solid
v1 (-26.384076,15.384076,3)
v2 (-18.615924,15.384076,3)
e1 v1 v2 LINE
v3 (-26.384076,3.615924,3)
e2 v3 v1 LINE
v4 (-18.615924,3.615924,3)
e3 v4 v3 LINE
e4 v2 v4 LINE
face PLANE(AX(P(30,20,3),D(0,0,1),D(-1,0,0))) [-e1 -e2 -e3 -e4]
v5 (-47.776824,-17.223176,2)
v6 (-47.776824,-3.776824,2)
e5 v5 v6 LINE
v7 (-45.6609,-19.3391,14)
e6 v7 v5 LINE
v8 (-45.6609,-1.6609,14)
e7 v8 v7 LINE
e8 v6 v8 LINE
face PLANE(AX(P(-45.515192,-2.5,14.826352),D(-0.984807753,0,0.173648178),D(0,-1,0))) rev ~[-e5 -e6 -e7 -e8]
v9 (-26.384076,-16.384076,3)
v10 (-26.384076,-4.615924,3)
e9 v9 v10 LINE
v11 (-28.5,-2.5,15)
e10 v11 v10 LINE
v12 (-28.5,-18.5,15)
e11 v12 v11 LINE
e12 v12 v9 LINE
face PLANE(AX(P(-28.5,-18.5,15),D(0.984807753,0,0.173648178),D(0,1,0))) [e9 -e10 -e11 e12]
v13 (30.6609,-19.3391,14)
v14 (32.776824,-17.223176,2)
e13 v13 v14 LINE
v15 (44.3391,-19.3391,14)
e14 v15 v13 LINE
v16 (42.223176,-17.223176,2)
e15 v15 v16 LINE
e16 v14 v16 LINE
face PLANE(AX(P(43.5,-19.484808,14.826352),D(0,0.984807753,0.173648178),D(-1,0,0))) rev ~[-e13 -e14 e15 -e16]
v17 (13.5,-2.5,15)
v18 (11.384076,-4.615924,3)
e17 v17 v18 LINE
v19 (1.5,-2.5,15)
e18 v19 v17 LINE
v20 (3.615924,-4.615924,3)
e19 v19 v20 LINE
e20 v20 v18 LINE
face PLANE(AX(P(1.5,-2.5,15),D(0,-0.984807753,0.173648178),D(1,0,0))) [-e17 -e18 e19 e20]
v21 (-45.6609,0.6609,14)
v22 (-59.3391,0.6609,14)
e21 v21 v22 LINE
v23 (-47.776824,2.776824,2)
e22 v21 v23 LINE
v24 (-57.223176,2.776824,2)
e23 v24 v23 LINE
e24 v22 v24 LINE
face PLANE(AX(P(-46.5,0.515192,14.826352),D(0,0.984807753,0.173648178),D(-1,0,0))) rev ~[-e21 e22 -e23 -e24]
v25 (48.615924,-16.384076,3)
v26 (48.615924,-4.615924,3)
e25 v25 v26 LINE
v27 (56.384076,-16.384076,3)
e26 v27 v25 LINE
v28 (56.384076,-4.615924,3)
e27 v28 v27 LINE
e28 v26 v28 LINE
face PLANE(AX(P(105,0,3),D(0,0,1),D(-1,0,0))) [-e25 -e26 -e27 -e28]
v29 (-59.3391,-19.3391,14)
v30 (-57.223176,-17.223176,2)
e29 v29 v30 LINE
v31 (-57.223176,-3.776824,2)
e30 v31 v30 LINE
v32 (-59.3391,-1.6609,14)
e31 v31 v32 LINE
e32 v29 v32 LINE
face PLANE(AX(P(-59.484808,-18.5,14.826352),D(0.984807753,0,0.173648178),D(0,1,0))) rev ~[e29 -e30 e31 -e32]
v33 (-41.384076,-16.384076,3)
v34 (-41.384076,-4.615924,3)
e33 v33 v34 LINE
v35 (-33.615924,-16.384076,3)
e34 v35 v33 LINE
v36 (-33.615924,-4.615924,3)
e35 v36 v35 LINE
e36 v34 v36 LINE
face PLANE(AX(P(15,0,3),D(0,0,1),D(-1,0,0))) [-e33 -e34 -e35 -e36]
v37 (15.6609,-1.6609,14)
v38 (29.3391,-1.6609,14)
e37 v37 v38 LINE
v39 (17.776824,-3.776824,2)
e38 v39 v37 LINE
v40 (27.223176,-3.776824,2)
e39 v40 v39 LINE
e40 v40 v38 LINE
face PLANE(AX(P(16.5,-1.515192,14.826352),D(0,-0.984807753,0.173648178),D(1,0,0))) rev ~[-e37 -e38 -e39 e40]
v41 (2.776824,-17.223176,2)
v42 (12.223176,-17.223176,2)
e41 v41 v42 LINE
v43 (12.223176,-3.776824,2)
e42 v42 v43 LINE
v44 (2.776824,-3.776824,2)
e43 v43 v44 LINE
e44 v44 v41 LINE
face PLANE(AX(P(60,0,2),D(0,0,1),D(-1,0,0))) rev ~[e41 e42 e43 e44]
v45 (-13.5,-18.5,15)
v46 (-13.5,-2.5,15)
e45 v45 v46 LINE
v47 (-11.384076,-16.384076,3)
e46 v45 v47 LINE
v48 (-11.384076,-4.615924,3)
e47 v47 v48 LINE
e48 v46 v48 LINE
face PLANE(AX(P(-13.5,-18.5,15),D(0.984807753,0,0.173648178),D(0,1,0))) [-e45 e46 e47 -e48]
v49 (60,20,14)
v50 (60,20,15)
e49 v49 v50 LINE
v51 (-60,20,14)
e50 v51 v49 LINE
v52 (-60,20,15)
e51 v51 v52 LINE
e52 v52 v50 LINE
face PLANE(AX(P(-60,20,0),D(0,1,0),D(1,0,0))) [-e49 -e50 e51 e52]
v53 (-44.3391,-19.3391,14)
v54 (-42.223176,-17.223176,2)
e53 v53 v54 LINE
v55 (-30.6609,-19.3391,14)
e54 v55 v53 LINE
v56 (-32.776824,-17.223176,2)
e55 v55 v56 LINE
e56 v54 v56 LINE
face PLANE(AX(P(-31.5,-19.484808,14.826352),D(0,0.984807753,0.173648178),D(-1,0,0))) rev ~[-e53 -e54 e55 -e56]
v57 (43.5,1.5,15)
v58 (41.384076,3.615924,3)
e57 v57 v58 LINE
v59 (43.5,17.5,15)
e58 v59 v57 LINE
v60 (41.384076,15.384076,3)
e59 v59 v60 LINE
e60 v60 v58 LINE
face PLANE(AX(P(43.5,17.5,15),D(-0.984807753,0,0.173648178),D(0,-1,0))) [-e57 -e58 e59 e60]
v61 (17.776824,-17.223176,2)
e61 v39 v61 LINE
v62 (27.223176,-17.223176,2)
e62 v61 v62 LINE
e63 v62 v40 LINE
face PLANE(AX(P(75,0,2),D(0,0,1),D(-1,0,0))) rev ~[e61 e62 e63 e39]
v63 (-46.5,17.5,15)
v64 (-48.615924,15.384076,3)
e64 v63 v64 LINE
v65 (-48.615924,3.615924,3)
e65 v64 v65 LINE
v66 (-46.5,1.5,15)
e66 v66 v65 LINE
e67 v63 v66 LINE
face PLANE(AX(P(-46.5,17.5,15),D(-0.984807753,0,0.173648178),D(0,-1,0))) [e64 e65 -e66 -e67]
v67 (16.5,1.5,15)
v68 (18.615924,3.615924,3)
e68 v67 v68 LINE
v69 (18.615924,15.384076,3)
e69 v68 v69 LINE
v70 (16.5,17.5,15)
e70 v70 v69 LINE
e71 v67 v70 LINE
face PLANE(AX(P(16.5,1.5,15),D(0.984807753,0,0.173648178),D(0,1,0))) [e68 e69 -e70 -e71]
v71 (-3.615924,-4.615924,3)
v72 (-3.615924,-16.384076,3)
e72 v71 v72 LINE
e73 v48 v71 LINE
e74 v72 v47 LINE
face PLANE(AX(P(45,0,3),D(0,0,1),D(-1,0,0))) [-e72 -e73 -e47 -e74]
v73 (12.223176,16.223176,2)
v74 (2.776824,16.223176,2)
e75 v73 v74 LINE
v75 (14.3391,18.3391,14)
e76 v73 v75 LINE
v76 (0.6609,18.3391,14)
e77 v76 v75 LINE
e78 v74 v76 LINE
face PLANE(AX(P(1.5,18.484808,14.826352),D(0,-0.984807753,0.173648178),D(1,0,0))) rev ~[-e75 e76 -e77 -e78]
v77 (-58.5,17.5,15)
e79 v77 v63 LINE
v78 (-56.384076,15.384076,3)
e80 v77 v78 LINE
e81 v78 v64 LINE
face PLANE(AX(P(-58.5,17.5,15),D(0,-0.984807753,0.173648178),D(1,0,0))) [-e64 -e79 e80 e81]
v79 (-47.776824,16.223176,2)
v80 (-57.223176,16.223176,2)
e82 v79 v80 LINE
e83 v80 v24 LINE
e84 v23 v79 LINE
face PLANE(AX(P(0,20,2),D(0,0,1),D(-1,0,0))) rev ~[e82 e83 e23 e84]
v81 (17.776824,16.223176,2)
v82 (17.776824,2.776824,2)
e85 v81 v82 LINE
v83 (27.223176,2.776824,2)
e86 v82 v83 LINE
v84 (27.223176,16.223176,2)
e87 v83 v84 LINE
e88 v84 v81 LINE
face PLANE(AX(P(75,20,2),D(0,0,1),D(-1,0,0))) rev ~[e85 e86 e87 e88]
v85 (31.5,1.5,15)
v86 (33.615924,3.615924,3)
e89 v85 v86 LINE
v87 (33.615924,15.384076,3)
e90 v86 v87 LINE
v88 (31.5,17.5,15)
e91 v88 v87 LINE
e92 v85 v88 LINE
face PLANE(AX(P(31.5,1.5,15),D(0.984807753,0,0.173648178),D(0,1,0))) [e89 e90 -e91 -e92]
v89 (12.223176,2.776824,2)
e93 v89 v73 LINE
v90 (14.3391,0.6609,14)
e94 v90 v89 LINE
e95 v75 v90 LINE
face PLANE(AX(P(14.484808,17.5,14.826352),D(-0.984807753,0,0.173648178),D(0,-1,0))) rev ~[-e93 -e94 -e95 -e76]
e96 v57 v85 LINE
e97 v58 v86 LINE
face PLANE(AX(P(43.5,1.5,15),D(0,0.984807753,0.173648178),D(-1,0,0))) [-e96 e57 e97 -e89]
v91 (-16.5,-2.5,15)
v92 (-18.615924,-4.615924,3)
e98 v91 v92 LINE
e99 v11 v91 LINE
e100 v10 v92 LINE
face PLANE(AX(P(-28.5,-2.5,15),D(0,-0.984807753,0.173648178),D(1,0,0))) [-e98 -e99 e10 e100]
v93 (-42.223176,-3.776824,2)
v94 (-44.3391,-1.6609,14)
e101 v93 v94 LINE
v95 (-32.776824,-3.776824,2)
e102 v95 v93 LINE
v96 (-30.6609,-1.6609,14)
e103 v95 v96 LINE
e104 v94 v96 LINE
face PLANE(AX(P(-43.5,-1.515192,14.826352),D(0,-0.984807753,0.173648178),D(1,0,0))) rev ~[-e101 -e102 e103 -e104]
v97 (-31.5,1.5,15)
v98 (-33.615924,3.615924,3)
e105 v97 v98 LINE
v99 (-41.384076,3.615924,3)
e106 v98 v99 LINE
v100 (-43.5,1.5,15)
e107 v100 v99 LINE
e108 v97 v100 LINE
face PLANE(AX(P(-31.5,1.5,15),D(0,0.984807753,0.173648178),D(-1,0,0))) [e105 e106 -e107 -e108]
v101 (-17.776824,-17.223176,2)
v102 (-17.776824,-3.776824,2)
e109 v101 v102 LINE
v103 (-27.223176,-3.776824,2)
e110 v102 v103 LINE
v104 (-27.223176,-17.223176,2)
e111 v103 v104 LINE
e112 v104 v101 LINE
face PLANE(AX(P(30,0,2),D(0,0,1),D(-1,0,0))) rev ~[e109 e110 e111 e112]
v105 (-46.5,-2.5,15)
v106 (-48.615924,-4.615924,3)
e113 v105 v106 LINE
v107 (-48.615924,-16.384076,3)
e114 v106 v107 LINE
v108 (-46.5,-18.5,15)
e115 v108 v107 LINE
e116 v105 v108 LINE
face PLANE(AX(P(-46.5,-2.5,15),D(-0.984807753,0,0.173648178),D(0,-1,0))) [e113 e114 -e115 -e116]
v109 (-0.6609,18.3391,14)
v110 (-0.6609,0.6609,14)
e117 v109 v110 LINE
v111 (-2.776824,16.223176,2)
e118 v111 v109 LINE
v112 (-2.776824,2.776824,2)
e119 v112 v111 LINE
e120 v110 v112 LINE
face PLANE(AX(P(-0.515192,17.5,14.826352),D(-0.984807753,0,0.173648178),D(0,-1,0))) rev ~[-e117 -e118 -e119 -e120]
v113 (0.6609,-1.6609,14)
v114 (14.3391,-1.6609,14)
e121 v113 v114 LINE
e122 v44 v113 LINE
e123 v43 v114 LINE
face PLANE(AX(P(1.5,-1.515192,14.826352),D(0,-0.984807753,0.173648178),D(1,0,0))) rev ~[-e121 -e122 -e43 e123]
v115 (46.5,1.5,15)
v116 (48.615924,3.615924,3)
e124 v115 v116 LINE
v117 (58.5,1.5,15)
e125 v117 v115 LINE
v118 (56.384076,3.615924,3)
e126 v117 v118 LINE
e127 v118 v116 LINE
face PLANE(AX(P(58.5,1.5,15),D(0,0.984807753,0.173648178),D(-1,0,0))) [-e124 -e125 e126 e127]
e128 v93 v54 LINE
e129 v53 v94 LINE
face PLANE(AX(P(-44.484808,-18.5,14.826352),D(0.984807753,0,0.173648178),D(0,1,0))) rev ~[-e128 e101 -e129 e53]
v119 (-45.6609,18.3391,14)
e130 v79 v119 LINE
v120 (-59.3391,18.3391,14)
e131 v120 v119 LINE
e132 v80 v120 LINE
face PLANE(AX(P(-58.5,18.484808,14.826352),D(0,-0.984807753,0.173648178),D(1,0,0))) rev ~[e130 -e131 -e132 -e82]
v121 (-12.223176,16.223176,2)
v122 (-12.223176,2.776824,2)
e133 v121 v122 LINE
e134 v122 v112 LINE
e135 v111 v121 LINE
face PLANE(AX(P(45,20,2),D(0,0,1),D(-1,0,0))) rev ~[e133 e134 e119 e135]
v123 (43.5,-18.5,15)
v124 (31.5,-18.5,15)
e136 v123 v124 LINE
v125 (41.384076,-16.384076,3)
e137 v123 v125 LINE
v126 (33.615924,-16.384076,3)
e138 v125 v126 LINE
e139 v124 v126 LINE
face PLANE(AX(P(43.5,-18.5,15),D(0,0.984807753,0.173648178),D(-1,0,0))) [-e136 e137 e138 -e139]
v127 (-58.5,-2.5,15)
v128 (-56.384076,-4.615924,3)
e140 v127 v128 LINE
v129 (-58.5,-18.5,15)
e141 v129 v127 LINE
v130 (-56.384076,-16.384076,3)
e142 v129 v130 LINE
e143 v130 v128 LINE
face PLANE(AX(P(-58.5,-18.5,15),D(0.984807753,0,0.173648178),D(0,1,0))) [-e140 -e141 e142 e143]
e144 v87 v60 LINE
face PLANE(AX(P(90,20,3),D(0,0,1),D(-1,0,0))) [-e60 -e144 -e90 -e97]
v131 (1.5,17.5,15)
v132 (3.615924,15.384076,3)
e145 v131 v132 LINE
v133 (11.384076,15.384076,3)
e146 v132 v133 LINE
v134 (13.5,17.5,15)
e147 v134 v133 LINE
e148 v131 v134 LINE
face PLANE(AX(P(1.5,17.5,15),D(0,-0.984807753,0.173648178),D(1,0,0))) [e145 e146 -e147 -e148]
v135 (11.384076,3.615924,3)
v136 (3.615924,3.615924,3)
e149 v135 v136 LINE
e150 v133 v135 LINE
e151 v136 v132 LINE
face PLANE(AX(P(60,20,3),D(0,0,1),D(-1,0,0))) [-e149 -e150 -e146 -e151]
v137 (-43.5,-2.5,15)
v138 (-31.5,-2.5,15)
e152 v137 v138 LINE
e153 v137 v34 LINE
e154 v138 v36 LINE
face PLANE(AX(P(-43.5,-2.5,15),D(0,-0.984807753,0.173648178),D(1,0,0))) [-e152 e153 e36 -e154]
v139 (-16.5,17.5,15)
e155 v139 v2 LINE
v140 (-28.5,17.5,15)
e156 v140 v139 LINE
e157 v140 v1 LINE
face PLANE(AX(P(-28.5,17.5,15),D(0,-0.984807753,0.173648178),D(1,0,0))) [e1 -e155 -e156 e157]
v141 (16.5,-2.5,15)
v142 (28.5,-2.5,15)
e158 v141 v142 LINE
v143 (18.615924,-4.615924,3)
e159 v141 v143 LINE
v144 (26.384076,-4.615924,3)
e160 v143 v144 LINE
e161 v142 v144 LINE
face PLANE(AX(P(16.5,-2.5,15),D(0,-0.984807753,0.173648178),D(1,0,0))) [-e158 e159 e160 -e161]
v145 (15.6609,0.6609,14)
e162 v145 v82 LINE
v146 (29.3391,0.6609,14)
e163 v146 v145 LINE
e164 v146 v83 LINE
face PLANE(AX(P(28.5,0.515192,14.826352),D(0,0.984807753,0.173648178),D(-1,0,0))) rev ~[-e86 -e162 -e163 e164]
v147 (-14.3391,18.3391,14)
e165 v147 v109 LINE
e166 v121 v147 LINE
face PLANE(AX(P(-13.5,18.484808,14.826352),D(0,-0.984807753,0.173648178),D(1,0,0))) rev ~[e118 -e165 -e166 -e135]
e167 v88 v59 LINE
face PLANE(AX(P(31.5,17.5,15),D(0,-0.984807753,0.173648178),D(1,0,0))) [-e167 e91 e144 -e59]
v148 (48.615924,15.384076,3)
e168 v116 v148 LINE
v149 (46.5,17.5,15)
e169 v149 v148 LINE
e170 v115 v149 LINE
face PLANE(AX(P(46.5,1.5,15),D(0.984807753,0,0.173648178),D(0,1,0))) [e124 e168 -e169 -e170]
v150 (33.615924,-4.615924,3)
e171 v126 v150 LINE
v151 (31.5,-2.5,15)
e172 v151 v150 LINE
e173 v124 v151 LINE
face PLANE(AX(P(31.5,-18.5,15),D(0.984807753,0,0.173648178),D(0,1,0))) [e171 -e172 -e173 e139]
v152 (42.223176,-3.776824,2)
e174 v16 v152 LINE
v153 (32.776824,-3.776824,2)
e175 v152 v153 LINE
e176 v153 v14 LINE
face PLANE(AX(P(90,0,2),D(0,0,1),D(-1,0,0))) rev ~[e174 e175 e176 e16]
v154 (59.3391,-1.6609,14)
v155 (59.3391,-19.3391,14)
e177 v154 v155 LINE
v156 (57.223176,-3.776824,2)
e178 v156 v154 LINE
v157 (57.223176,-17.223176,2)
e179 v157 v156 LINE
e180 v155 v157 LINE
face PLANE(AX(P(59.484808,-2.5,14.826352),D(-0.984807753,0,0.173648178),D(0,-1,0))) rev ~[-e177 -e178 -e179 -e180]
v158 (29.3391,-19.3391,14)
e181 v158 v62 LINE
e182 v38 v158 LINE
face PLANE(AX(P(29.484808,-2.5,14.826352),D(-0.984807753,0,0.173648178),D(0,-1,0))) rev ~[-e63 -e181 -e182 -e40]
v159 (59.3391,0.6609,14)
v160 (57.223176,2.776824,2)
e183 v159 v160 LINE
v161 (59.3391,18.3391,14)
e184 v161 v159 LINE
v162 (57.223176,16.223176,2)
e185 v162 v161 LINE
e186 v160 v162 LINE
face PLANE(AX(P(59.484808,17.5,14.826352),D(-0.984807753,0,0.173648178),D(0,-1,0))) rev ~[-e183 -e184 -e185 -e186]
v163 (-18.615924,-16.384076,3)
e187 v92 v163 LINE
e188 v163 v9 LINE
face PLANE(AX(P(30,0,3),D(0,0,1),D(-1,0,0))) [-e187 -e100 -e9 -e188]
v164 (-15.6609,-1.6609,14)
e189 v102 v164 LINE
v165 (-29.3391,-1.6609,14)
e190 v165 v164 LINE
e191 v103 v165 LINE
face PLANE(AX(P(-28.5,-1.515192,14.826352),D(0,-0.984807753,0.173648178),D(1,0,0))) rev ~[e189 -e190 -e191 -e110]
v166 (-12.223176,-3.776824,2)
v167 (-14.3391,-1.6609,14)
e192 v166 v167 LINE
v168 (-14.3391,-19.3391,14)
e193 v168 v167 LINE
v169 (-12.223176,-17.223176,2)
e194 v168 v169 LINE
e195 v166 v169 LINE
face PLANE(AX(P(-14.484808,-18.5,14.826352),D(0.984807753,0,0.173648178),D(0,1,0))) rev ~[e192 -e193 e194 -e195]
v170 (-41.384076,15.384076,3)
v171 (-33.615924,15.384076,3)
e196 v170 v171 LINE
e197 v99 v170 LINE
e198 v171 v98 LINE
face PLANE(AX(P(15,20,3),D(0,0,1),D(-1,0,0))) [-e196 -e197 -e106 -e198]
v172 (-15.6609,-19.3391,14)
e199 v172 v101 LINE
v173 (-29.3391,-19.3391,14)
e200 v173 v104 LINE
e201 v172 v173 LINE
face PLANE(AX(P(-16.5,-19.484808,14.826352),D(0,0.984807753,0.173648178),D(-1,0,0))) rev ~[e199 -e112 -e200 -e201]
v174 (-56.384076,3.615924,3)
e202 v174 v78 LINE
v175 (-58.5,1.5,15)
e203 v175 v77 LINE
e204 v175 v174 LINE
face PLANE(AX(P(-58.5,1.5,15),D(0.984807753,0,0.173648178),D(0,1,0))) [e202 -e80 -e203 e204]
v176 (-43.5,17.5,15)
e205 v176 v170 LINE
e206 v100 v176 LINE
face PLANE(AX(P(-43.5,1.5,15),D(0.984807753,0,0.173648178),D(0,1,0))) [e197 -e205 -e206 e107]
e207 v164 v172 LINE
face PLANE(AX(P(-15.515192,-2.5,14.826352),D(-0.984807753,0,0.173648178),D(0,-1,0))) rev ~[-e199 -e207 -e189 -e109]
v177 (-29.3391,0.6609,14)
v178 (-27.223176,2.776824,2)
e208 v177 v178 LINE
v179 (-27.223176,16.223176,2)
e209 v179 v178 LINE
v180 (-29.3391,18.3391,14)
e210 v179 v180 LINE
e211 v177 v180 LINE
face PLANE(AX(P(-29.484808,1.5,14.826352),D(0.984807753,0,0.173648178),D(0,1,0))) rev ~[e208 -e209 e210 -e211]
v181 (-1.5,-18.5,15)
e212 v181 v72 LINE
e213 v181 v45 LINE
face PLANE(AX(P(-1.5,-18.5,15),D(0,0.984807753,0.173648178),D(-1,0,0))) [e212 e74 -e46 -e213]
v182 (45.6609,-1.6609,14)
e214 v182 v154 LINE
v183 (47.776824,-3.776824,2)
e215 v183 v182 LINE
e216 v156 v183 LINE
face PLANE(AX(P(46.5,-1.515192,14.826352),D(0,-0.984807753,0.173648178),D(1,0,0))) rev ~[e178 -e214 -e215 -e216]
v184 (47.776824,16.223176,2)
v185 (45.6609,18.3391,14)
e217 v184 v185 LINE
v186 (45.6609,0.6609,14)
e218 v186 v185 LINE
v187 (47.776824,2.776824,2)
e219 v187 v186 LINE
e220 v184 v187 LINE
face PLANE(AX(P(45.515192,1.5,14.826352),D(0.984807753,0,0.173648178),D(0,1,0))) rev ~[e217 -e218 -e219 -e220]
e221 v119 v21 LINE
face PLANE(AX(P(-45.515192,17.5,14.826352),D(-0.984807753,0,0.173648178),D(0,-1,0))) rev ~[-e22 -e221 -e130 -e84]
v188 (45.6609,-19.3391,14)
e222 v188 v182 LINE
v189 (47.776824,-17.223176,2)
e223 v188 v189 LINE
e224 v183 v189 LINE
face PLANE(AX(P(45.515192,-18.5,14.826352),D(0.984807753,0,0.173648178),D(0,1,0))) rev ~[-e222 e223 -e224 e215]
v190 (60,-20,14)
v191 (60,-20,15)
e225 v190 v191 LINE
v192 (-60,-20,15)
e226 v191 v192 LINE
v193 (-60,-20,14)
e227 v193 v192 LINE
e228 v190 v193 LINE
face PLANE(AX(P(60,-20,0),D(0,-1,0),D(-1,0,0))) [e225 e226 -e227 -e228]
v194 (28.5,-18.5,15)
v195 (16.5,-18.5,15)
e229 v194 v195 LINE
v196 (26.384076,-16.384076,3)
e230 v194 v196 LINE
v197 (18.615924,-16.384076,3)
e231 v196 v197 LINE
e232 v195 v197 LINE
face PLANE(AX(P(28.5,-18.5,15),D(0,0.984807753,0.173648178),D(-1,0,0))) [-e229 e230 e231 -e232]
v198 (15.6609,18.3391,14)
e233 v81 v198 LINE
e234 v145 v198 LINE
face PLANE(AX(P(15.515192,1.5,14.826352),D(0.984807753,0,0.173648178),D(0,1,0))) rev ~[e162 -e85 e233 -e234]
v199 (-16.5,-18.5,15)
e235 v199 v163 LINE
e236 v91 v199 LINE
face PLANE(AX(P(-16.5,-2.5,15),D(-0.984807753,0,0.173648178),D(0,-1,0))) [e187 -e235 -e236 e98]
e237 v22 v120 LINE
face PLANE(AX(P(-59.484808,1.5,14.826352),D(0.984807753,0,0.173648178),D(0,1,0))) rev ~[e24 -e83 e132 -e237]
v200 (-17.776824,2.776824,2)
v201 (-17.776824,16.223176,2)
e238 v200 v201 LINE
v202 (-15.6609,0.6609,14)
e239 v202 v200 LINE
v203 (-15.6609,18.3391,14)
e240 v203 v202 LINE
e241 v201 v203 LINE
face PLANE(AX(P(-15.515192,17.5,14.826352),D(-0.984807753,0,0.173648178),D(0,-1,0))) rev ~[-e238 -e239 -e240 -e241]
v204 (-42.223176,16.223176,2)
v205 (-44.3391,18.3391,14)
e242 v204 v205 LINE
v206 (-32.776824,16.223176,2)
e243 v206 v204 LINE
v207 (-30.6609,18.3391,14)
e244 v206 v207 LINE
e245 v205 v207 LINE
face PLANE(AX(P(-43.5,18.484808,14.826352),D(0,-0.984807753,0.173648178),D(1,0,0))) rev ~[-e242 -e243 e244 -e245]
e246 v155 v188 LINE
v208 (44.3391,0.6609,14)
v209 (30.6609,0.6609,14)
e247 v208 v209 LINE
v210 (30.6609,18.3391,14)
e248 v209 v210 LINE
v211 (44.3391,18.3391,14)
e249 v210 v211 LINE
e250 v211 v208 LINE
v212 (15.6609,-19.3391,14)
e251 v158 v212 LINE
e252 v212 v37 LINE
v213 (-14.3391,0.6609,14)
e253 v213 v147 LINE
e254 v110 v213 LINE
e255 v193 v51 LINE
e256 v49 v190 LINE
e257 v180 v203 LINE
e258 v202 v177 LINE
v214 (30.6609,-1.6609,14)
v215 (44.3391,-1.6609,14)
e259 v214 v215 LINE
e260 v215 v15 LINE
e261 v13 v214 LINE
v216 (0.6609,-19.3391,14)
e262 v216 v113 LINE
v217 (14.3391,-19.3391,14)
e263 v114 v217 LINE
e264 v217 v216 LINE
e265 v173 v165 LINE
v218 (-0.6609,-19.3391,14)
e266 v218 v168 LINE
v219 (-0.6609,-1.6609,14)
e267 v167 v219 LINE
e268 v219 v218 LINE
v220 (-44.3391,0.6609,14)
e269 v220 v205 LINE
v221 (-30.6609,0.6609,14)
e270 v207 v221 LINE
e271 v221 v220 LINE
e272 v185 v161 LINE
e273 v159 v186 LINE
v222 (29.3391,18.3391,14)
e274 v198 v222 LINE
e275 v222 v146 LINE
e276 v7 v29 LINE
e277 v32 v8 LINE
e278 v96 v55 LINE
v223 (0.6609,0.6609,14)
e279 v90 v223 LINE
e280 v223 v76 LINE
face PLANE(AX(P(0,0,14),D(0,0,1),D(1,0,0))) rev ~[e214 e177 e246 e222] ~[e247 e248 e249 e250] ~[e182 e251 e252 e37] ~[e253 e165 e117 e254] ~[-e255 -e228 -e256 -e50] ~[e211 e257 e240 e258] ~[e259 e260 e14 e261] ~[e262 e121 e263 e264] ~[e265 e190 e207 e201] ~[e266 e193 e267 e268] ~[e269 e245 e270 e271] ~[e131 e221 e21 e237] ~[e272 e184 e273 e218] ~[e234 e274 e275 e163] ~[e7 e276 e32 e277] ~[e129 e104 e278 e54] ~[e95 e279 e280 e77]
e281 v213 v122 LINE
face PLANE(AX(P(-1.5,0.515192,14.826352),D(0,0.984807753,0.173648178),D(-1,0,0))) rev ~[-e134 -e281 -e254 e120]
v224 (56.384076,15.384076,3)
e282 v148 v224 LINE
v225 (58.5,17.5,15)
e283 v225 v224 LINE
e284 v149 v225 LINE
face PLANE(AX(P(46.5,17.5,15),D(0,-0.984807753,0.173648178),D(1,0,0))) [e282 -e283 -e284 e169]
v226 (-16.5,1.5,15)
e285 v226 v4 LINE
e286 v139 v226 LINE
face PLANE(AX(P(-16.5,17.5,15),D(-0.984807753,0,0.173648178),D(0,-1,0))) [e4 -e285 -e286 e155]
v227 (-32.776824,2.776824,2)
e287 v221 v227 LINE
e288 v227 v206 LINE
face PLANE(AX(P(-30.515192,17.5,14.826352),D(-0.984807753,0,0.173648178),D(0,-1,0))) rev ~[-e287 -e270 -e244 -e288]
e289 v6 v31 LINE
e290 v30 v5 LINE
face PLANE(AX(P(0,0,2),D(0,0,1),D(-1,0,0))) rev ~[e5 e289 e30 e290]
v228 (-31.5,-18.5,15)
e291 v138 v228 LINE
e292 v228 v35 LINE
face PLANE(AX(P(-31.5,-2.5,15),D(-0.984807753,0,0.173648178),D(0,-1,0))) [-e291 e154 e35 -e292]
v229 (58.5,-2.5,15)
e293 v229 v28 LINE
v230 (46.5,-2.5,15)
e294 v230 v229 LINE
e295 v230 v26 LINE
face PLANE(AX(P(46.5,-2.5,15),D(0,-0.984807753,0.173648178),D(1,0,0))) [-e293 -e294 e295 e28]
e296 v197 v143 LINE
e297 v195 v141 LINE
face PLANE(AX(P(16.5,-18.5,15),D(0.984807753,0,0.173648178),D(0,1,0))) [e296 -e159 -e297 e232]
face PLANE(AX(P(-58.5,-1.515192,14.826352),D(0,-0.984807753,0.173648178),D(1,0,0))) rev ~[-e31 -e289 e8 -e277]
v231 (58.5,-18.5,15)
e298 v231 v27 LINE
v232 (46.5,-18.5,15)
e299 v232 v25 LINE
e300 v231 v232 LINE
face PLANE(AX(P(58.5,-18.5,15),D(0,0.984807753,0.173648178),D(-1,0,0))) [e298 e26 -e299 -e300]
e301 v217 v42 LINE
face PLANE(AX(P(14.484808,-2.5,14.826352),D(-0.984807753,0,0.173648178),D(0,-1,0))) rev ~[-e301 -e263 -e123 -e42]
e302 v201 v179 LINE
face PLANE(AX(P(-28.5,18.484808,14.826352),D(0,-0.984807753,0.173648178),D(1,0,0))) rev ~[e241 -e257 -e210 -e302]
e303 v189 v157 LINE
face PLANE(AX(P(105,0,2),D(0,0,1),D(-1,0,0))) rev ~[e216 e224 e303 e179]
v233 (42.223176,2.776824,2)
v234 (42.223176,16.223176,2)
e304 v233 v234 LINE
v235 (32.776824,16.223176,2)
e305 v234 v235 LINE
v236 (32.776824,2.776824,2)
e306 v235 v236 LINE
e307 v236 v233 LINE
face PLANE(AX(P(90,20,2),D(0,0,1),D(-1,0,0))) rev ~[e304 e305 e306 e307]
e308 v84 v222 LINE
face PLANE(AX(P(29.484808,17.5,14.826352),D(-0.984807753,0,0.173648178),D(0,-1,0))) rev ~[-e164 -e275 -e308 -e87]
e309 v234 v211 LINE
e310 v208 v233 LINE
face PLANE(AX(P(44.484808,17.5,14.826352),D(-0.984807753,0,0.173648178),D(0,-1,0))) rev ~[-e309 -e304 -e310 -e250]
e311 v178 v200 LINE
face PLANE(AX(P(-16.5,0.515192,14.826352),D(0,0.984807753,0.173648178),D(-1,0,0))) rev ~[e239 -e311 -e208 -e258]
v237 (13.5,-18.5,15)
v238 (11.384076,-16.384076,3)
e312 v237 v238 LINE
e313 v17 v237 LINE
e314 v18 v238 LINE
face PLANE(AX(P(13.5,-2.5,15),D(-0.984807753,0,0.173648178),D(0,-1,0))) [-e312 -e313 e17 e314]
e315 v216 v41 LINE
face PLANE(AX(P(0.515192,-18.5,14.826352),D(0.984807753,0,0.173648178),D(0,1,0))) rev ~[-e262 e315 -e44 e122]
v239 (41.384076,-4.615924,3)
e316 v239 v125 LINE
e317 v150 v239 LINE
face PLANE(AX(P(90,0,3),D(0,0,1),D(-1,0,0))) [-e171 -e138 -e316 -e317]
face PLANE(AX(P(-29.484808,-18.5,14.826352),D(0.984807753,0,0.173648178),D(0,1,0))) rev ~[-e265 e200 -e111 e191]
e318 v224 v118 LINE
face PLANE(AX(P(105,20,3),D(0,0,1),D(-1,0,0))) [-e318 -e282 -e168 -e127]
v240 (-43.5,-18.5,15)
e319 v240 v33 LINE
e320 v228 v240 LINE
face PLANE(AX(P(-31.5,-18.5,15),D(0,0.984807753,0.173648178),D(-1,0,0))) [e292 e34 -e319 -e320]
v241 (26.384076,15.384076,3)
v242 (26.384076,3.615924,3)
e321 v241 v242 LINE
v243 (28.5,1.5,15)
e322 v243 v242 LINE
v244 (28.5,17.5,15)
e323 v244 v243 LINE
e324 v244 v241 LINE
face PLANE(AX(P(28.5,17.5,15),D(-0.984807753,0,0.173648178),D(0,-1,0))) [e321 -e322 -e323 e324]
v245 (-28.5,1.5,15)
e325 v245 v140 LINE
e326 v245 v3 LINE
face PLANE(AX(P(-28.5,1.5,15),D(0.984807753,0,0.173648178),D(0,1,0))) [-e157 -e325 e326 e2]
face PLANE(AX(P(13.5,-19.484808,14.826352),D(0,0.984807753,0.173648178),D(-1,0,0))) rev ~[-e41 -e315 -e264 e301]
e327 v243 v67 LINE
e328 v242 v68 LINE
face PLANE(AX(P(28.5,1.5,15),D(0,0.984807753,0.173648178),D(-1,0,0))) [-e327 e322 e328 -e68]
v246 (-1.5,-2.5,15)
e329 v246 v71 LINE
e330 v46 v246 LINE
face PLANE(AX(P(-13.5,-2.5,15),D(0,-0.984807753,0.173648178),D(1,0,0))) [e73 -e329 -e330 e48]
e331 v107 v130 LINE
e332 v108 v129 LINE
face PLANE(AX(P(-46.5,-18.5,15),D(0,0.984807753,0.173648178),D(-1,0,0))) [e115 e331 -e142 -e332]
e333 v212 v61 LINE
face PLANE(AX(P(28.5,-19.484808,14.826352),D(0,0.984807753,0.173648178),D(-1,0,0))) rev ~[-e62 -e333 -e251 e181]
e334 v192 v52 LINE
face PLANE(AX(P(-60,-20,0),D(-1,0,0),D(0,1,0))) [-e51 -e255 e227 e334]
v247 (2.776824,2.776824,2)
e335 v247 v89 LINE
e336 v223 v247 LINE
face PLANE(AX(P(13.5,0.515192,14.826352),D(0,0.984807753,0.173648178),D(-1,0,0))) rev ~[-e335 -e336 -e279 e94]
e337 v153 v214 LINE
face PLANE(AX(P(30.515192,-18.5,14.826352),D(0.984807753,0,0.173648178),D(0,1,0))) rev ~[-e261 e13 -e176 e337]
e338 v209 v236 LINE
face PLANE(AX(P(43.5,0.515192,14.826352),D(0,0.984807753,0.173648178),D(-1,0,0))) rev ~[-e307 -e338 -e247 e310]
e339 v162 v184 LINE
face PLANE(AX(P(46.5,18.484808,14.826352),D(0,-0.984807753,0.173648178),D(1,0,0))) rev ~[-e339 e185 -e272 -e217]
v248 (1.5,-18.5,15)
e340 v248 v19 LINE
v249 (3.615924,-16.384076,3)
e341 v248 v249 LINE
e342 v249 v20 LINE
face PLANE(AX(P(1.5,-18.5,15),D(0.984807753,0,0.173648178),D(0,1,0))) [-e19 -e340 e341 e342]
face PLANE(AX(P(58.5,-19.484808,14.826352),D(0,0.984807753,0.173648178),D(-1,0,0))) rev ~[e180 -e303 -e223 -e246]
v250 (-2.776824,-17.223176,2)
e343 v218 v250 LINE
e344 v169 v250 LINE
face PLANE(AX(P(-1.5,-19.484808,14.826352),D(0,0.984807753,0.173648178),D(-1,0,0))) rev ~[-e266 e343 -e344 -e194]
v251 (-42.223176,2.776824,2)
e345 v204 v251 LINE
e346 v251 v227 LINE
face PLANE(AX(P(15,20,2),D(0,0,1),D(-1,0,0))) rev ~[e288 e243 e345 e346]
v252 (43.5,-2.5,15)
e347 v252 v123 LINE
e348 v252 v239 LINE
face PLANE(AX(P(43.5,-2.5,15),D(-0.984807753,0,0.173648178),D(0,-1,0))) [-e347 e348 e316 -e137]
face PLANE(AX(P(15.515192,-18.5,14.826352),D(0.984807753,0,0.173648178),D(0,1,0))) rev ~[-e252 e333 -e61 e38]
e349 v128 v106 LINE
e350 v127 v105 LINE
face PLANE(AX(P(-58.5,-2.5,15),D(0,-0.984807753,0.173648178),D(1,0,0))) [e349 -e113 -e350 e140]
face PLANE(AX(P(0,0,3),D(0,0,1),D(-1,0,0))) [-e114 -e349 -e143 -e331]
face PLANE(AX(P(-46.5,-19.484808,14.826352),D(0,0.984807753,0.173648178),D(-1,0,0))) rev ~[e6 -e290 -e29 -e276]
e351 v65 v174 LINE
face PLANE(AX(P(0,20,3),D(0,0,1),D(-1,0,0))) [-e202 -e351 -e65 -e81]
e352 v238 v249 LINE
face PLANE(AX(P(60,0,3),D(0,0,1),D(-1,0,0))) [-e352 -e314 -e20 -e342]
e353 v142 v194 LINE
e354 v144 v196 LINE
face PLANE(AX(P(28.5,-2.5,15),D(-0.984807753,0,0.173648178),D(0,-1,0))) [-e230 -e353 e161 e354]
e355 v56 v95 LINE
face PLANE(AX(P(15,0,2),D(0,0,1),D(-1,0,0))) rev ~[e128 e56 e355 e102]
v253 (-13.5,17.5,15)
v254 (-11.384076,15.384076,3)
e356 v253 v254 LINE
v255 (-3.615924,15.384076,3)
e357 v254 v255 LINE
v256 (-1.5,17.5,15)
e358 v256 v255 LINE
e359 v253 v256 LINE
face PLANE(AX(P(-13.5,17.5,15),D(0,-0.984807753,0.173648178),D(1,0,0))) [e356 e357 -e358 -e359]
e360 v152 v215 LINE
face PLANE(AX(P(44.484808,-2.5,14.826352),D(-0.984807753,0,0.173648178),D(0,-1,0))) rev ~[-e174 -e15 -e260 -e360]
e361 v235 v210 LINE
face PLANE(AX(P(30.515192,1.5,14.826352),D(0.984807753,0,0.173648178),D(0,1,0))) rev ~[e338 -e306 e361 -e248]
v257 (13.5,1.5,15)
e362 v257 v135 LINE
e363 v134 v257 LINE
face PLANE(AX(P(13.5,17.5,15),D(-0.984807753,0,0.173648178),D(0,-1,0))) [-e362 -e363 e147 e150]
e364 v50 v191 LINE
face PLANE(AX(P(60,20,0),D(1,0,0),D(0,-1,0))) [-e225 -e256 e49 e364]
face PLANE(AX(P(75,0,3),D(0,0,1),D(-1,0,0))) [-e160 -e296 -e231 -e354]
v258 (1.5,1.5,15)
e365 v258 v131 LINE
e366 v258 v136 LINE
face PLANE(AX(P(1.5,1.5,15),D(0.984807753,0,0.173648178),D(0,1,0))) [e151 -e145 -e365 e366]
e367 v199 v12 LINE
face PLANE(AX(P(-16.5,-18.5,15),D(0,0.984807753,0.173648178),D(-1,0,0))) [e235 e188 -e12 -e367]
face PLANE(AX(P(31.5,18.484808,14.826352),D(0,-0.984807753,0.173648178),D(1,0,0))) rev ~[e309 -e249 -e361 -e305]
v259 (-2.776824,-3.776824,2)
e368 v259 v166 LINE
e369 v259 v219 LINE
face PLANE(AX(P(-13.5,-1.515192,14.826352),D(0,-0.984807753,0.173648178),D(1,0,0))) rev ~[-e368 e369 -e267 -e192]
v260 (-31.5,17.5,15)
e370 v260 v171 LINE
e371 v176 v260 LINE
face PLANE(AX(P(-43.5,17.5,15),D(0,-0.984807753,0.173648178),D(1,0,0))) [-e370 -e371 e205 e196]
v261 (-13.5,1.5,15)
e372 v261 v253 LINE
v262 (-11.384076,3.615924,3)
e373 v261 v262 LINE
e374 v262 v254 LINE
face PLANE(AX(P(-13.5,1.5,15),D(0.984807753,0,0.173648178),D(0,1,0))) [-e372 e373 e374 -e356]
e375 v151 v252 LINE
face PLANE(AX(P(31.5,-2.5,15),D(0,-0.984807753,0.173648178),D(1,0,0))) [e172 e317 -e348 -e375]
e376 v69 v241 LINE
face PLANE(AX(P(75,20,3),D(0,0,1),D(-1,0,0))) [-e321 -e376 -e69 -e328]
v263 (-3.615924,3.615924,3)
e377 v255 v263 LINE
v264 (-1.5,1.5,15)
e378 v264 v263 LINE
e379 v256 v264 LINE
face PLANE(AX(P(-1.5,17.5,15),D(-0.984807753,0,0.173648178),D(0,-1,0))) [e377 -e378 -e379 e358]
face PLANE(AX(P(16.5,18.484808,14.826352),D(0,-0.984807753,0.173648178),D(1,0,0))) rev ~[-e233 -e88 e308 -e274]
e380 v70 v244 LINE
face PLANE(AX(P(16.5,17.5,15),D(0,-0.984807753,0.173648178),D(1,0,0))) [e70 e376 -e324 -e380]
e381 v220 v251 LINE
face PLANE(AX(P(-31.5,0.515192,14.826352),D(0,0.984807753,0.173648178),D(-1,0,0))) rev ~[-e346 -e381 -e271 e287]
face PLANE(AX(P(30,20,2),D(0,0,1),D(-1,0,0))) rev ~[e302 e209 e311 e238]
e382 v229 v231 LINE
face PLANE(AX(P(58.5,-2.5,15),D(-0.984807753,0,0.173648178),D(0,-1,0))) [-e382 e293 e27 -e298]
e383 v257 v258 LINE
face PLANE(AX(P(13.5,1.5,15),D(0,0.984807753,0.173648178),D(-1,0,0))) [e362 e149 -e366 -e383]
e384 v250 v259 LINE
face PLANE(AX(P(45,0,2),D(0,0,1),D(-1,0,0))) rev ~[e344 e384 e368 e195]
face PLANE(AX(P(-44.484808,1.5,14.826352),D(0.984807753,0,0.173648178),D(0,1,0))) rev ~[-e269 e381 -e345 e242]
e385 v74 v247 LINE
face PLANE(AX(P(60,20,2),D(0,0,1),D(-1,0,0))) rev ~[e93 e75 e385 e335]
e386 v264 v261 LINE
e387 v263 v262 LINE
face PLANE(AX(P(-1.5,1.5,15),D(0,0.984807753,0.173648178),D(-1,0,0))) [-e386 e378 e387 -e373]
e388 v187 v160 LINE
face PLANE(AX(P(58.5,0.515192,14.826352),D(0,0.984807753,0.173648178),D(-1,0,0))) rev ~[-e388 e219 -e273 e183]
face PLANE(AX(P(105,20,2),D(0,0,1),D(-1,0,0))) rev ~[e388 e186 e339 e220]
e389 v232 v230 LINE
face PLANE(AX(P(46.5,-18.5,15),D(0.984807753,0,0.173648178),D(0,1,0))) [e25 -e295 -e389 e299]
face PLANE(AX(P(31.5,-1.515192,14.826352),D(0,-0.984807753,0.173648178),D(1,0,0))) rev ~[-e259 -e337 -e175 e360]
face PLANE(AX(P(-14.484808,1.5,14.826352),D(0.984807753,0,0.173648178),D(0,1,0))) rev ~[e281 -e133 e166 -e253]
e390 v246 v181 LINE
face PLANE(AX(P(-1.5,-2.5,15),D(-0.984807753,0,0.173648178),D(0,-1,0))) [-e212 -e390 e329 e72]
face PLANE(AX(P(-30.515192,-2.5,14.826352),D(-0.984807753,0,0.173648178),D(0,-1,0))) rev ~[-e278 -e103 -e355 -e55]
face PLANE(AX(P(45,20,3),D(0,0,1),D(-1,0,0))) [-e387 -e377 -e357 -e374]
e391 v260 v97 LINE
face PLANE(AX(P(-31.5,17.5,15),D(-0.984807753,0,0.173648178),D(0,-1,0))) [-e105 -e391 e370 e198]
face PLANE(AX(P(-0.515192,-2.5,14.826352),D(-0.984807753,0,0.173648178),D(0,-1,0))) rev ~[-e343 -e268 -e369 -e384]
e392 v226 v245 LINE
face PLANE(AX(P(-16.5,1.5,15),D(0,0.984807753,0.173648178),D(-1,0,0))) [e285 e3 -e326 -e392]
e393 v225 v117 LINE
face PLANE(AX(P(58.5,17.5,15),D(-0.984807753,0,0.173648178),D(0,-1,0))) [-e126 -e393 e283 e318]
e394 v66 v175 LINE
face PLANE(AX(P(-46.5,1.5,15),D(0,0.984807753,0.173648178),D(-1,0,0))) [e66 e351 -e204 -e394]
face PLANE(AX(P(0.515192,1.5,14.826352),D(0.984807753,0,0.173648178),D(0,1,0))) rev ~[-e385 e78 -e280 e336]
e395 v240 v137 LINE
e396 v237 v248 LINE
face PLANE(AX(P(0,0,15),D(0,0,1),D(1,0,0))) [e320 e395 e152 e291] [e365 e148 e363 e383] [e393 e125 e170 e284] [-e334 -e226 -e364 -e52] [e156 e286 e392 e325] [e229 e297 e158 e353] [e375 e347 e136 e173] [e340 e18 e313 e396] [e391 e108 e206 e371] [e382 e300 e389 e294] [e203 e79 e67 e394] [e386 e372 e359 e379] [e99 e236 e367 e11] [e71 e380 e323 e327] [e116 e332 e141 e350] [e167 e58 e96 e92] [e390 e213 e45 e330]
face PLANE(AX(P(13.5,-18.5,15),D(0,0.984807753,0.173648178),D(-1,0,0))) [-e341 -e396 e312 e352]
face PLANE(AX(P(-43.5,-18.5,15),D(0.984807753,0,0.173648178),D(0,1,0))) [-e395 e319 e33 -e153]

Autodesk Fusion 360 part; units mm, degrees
sketch "Sketch1" plane through (0, 0, 0) normal (0, 0, 1) x (1, 0, 0)
  line L0 (-60, 20) -> (60, 20)
  line L1 (60, 20) -> (60, -20)
  line L2 (60, -20) -> (-60, -20)
  line L3 (-60, -20) -> (-60, 20)
  line L4 (-60, 20) -> (60, -20) construction
  line L5 (60, 20) -> (-60, -20) construction
  dimension "d1" = 120
  dimension "d2" = 40
extrude "Extrude1" add sketch "Sketch1" along normal blind 15
sketch "Sketch3" plane through (0, 0, 0) normal (0, 0, 1) x (1, 0, 0)
sketch "Sketch4" plane through (0, 0, 15) normal (0, 0, 1) x (-1, 0, 0)
  line L0 (60, 20) -> (-60, 20)
  line L1 (-60, 20) -> (-60, -20)
  line L2 (-60, -20) -> (60, -20)
  line L3 (60, -20) -> (60, 20)
  line L4 (46.5, 18.5) -> (58.5, 18.5)
  line L5 (58.5, 18.5) -> (58.5, 2.5)
  line L6 (58.5, 2.5) -> (46.5, 2.5)
  line L7 (46.5, 2.5) -> (46.5, 18.5)
  line L8 (46.5, 18.5) -> (58.5, 2.5) construction
  line L9 (58.5, 18.5) -> (46.5, 2.5) construction
  point P0 (52.5, 10.5)
  dimension "d5" = 16
  dimension "d6" = 12
  dimension "d7" = 1.5
  dimension "d8" = 1.5
extrude "Extrude2" cut sketch "Sketch4" against normal blind 12 draft -10 contours L4 L5 L6 L7
pattern_linear "R-Pattern1" count 8 spacing 15 along (1, 0, 0) of "Extrude2"
pattern_linear "R-Pattern2" count 2 spacing 20 along (0, 1, 0) of "R-Pattern1"
pattern_linear "R-Pattern3" count 2 spacing 20 along (0, 1, 0) of "Extrude2"
shell "Shell1" thickness 1 removed faces 5 at (-60, -6.6667, 10) at (-20, 20, 5) at (60, 6.6667, 10) at (20, -20, 5) at (-20, 6.6667, 0)
sketch "Sketch2" plane through (0, 0, 15) normal (0, 0, 1) x (-1, 0, 0)
  line L0 (60, 20) -> (-60, 20)
  line L1 (-60, 20) -> (-60, -20)
  line L2 (-60, -20) -> (60, -20)
  line L3 (60, -20) -> (60, 20)
  line L4 (57.2443, 17.5896) -> (43.971, 17.5896)
  line L5 (43.971, 17.5896) -> (43.971, 1.7322)
  line L6 (43.971, 1.7322) -> (57.2443, 1.7322)
  line L7 (57.2443, 1.7322) -> (57.2443, 17.5896)
